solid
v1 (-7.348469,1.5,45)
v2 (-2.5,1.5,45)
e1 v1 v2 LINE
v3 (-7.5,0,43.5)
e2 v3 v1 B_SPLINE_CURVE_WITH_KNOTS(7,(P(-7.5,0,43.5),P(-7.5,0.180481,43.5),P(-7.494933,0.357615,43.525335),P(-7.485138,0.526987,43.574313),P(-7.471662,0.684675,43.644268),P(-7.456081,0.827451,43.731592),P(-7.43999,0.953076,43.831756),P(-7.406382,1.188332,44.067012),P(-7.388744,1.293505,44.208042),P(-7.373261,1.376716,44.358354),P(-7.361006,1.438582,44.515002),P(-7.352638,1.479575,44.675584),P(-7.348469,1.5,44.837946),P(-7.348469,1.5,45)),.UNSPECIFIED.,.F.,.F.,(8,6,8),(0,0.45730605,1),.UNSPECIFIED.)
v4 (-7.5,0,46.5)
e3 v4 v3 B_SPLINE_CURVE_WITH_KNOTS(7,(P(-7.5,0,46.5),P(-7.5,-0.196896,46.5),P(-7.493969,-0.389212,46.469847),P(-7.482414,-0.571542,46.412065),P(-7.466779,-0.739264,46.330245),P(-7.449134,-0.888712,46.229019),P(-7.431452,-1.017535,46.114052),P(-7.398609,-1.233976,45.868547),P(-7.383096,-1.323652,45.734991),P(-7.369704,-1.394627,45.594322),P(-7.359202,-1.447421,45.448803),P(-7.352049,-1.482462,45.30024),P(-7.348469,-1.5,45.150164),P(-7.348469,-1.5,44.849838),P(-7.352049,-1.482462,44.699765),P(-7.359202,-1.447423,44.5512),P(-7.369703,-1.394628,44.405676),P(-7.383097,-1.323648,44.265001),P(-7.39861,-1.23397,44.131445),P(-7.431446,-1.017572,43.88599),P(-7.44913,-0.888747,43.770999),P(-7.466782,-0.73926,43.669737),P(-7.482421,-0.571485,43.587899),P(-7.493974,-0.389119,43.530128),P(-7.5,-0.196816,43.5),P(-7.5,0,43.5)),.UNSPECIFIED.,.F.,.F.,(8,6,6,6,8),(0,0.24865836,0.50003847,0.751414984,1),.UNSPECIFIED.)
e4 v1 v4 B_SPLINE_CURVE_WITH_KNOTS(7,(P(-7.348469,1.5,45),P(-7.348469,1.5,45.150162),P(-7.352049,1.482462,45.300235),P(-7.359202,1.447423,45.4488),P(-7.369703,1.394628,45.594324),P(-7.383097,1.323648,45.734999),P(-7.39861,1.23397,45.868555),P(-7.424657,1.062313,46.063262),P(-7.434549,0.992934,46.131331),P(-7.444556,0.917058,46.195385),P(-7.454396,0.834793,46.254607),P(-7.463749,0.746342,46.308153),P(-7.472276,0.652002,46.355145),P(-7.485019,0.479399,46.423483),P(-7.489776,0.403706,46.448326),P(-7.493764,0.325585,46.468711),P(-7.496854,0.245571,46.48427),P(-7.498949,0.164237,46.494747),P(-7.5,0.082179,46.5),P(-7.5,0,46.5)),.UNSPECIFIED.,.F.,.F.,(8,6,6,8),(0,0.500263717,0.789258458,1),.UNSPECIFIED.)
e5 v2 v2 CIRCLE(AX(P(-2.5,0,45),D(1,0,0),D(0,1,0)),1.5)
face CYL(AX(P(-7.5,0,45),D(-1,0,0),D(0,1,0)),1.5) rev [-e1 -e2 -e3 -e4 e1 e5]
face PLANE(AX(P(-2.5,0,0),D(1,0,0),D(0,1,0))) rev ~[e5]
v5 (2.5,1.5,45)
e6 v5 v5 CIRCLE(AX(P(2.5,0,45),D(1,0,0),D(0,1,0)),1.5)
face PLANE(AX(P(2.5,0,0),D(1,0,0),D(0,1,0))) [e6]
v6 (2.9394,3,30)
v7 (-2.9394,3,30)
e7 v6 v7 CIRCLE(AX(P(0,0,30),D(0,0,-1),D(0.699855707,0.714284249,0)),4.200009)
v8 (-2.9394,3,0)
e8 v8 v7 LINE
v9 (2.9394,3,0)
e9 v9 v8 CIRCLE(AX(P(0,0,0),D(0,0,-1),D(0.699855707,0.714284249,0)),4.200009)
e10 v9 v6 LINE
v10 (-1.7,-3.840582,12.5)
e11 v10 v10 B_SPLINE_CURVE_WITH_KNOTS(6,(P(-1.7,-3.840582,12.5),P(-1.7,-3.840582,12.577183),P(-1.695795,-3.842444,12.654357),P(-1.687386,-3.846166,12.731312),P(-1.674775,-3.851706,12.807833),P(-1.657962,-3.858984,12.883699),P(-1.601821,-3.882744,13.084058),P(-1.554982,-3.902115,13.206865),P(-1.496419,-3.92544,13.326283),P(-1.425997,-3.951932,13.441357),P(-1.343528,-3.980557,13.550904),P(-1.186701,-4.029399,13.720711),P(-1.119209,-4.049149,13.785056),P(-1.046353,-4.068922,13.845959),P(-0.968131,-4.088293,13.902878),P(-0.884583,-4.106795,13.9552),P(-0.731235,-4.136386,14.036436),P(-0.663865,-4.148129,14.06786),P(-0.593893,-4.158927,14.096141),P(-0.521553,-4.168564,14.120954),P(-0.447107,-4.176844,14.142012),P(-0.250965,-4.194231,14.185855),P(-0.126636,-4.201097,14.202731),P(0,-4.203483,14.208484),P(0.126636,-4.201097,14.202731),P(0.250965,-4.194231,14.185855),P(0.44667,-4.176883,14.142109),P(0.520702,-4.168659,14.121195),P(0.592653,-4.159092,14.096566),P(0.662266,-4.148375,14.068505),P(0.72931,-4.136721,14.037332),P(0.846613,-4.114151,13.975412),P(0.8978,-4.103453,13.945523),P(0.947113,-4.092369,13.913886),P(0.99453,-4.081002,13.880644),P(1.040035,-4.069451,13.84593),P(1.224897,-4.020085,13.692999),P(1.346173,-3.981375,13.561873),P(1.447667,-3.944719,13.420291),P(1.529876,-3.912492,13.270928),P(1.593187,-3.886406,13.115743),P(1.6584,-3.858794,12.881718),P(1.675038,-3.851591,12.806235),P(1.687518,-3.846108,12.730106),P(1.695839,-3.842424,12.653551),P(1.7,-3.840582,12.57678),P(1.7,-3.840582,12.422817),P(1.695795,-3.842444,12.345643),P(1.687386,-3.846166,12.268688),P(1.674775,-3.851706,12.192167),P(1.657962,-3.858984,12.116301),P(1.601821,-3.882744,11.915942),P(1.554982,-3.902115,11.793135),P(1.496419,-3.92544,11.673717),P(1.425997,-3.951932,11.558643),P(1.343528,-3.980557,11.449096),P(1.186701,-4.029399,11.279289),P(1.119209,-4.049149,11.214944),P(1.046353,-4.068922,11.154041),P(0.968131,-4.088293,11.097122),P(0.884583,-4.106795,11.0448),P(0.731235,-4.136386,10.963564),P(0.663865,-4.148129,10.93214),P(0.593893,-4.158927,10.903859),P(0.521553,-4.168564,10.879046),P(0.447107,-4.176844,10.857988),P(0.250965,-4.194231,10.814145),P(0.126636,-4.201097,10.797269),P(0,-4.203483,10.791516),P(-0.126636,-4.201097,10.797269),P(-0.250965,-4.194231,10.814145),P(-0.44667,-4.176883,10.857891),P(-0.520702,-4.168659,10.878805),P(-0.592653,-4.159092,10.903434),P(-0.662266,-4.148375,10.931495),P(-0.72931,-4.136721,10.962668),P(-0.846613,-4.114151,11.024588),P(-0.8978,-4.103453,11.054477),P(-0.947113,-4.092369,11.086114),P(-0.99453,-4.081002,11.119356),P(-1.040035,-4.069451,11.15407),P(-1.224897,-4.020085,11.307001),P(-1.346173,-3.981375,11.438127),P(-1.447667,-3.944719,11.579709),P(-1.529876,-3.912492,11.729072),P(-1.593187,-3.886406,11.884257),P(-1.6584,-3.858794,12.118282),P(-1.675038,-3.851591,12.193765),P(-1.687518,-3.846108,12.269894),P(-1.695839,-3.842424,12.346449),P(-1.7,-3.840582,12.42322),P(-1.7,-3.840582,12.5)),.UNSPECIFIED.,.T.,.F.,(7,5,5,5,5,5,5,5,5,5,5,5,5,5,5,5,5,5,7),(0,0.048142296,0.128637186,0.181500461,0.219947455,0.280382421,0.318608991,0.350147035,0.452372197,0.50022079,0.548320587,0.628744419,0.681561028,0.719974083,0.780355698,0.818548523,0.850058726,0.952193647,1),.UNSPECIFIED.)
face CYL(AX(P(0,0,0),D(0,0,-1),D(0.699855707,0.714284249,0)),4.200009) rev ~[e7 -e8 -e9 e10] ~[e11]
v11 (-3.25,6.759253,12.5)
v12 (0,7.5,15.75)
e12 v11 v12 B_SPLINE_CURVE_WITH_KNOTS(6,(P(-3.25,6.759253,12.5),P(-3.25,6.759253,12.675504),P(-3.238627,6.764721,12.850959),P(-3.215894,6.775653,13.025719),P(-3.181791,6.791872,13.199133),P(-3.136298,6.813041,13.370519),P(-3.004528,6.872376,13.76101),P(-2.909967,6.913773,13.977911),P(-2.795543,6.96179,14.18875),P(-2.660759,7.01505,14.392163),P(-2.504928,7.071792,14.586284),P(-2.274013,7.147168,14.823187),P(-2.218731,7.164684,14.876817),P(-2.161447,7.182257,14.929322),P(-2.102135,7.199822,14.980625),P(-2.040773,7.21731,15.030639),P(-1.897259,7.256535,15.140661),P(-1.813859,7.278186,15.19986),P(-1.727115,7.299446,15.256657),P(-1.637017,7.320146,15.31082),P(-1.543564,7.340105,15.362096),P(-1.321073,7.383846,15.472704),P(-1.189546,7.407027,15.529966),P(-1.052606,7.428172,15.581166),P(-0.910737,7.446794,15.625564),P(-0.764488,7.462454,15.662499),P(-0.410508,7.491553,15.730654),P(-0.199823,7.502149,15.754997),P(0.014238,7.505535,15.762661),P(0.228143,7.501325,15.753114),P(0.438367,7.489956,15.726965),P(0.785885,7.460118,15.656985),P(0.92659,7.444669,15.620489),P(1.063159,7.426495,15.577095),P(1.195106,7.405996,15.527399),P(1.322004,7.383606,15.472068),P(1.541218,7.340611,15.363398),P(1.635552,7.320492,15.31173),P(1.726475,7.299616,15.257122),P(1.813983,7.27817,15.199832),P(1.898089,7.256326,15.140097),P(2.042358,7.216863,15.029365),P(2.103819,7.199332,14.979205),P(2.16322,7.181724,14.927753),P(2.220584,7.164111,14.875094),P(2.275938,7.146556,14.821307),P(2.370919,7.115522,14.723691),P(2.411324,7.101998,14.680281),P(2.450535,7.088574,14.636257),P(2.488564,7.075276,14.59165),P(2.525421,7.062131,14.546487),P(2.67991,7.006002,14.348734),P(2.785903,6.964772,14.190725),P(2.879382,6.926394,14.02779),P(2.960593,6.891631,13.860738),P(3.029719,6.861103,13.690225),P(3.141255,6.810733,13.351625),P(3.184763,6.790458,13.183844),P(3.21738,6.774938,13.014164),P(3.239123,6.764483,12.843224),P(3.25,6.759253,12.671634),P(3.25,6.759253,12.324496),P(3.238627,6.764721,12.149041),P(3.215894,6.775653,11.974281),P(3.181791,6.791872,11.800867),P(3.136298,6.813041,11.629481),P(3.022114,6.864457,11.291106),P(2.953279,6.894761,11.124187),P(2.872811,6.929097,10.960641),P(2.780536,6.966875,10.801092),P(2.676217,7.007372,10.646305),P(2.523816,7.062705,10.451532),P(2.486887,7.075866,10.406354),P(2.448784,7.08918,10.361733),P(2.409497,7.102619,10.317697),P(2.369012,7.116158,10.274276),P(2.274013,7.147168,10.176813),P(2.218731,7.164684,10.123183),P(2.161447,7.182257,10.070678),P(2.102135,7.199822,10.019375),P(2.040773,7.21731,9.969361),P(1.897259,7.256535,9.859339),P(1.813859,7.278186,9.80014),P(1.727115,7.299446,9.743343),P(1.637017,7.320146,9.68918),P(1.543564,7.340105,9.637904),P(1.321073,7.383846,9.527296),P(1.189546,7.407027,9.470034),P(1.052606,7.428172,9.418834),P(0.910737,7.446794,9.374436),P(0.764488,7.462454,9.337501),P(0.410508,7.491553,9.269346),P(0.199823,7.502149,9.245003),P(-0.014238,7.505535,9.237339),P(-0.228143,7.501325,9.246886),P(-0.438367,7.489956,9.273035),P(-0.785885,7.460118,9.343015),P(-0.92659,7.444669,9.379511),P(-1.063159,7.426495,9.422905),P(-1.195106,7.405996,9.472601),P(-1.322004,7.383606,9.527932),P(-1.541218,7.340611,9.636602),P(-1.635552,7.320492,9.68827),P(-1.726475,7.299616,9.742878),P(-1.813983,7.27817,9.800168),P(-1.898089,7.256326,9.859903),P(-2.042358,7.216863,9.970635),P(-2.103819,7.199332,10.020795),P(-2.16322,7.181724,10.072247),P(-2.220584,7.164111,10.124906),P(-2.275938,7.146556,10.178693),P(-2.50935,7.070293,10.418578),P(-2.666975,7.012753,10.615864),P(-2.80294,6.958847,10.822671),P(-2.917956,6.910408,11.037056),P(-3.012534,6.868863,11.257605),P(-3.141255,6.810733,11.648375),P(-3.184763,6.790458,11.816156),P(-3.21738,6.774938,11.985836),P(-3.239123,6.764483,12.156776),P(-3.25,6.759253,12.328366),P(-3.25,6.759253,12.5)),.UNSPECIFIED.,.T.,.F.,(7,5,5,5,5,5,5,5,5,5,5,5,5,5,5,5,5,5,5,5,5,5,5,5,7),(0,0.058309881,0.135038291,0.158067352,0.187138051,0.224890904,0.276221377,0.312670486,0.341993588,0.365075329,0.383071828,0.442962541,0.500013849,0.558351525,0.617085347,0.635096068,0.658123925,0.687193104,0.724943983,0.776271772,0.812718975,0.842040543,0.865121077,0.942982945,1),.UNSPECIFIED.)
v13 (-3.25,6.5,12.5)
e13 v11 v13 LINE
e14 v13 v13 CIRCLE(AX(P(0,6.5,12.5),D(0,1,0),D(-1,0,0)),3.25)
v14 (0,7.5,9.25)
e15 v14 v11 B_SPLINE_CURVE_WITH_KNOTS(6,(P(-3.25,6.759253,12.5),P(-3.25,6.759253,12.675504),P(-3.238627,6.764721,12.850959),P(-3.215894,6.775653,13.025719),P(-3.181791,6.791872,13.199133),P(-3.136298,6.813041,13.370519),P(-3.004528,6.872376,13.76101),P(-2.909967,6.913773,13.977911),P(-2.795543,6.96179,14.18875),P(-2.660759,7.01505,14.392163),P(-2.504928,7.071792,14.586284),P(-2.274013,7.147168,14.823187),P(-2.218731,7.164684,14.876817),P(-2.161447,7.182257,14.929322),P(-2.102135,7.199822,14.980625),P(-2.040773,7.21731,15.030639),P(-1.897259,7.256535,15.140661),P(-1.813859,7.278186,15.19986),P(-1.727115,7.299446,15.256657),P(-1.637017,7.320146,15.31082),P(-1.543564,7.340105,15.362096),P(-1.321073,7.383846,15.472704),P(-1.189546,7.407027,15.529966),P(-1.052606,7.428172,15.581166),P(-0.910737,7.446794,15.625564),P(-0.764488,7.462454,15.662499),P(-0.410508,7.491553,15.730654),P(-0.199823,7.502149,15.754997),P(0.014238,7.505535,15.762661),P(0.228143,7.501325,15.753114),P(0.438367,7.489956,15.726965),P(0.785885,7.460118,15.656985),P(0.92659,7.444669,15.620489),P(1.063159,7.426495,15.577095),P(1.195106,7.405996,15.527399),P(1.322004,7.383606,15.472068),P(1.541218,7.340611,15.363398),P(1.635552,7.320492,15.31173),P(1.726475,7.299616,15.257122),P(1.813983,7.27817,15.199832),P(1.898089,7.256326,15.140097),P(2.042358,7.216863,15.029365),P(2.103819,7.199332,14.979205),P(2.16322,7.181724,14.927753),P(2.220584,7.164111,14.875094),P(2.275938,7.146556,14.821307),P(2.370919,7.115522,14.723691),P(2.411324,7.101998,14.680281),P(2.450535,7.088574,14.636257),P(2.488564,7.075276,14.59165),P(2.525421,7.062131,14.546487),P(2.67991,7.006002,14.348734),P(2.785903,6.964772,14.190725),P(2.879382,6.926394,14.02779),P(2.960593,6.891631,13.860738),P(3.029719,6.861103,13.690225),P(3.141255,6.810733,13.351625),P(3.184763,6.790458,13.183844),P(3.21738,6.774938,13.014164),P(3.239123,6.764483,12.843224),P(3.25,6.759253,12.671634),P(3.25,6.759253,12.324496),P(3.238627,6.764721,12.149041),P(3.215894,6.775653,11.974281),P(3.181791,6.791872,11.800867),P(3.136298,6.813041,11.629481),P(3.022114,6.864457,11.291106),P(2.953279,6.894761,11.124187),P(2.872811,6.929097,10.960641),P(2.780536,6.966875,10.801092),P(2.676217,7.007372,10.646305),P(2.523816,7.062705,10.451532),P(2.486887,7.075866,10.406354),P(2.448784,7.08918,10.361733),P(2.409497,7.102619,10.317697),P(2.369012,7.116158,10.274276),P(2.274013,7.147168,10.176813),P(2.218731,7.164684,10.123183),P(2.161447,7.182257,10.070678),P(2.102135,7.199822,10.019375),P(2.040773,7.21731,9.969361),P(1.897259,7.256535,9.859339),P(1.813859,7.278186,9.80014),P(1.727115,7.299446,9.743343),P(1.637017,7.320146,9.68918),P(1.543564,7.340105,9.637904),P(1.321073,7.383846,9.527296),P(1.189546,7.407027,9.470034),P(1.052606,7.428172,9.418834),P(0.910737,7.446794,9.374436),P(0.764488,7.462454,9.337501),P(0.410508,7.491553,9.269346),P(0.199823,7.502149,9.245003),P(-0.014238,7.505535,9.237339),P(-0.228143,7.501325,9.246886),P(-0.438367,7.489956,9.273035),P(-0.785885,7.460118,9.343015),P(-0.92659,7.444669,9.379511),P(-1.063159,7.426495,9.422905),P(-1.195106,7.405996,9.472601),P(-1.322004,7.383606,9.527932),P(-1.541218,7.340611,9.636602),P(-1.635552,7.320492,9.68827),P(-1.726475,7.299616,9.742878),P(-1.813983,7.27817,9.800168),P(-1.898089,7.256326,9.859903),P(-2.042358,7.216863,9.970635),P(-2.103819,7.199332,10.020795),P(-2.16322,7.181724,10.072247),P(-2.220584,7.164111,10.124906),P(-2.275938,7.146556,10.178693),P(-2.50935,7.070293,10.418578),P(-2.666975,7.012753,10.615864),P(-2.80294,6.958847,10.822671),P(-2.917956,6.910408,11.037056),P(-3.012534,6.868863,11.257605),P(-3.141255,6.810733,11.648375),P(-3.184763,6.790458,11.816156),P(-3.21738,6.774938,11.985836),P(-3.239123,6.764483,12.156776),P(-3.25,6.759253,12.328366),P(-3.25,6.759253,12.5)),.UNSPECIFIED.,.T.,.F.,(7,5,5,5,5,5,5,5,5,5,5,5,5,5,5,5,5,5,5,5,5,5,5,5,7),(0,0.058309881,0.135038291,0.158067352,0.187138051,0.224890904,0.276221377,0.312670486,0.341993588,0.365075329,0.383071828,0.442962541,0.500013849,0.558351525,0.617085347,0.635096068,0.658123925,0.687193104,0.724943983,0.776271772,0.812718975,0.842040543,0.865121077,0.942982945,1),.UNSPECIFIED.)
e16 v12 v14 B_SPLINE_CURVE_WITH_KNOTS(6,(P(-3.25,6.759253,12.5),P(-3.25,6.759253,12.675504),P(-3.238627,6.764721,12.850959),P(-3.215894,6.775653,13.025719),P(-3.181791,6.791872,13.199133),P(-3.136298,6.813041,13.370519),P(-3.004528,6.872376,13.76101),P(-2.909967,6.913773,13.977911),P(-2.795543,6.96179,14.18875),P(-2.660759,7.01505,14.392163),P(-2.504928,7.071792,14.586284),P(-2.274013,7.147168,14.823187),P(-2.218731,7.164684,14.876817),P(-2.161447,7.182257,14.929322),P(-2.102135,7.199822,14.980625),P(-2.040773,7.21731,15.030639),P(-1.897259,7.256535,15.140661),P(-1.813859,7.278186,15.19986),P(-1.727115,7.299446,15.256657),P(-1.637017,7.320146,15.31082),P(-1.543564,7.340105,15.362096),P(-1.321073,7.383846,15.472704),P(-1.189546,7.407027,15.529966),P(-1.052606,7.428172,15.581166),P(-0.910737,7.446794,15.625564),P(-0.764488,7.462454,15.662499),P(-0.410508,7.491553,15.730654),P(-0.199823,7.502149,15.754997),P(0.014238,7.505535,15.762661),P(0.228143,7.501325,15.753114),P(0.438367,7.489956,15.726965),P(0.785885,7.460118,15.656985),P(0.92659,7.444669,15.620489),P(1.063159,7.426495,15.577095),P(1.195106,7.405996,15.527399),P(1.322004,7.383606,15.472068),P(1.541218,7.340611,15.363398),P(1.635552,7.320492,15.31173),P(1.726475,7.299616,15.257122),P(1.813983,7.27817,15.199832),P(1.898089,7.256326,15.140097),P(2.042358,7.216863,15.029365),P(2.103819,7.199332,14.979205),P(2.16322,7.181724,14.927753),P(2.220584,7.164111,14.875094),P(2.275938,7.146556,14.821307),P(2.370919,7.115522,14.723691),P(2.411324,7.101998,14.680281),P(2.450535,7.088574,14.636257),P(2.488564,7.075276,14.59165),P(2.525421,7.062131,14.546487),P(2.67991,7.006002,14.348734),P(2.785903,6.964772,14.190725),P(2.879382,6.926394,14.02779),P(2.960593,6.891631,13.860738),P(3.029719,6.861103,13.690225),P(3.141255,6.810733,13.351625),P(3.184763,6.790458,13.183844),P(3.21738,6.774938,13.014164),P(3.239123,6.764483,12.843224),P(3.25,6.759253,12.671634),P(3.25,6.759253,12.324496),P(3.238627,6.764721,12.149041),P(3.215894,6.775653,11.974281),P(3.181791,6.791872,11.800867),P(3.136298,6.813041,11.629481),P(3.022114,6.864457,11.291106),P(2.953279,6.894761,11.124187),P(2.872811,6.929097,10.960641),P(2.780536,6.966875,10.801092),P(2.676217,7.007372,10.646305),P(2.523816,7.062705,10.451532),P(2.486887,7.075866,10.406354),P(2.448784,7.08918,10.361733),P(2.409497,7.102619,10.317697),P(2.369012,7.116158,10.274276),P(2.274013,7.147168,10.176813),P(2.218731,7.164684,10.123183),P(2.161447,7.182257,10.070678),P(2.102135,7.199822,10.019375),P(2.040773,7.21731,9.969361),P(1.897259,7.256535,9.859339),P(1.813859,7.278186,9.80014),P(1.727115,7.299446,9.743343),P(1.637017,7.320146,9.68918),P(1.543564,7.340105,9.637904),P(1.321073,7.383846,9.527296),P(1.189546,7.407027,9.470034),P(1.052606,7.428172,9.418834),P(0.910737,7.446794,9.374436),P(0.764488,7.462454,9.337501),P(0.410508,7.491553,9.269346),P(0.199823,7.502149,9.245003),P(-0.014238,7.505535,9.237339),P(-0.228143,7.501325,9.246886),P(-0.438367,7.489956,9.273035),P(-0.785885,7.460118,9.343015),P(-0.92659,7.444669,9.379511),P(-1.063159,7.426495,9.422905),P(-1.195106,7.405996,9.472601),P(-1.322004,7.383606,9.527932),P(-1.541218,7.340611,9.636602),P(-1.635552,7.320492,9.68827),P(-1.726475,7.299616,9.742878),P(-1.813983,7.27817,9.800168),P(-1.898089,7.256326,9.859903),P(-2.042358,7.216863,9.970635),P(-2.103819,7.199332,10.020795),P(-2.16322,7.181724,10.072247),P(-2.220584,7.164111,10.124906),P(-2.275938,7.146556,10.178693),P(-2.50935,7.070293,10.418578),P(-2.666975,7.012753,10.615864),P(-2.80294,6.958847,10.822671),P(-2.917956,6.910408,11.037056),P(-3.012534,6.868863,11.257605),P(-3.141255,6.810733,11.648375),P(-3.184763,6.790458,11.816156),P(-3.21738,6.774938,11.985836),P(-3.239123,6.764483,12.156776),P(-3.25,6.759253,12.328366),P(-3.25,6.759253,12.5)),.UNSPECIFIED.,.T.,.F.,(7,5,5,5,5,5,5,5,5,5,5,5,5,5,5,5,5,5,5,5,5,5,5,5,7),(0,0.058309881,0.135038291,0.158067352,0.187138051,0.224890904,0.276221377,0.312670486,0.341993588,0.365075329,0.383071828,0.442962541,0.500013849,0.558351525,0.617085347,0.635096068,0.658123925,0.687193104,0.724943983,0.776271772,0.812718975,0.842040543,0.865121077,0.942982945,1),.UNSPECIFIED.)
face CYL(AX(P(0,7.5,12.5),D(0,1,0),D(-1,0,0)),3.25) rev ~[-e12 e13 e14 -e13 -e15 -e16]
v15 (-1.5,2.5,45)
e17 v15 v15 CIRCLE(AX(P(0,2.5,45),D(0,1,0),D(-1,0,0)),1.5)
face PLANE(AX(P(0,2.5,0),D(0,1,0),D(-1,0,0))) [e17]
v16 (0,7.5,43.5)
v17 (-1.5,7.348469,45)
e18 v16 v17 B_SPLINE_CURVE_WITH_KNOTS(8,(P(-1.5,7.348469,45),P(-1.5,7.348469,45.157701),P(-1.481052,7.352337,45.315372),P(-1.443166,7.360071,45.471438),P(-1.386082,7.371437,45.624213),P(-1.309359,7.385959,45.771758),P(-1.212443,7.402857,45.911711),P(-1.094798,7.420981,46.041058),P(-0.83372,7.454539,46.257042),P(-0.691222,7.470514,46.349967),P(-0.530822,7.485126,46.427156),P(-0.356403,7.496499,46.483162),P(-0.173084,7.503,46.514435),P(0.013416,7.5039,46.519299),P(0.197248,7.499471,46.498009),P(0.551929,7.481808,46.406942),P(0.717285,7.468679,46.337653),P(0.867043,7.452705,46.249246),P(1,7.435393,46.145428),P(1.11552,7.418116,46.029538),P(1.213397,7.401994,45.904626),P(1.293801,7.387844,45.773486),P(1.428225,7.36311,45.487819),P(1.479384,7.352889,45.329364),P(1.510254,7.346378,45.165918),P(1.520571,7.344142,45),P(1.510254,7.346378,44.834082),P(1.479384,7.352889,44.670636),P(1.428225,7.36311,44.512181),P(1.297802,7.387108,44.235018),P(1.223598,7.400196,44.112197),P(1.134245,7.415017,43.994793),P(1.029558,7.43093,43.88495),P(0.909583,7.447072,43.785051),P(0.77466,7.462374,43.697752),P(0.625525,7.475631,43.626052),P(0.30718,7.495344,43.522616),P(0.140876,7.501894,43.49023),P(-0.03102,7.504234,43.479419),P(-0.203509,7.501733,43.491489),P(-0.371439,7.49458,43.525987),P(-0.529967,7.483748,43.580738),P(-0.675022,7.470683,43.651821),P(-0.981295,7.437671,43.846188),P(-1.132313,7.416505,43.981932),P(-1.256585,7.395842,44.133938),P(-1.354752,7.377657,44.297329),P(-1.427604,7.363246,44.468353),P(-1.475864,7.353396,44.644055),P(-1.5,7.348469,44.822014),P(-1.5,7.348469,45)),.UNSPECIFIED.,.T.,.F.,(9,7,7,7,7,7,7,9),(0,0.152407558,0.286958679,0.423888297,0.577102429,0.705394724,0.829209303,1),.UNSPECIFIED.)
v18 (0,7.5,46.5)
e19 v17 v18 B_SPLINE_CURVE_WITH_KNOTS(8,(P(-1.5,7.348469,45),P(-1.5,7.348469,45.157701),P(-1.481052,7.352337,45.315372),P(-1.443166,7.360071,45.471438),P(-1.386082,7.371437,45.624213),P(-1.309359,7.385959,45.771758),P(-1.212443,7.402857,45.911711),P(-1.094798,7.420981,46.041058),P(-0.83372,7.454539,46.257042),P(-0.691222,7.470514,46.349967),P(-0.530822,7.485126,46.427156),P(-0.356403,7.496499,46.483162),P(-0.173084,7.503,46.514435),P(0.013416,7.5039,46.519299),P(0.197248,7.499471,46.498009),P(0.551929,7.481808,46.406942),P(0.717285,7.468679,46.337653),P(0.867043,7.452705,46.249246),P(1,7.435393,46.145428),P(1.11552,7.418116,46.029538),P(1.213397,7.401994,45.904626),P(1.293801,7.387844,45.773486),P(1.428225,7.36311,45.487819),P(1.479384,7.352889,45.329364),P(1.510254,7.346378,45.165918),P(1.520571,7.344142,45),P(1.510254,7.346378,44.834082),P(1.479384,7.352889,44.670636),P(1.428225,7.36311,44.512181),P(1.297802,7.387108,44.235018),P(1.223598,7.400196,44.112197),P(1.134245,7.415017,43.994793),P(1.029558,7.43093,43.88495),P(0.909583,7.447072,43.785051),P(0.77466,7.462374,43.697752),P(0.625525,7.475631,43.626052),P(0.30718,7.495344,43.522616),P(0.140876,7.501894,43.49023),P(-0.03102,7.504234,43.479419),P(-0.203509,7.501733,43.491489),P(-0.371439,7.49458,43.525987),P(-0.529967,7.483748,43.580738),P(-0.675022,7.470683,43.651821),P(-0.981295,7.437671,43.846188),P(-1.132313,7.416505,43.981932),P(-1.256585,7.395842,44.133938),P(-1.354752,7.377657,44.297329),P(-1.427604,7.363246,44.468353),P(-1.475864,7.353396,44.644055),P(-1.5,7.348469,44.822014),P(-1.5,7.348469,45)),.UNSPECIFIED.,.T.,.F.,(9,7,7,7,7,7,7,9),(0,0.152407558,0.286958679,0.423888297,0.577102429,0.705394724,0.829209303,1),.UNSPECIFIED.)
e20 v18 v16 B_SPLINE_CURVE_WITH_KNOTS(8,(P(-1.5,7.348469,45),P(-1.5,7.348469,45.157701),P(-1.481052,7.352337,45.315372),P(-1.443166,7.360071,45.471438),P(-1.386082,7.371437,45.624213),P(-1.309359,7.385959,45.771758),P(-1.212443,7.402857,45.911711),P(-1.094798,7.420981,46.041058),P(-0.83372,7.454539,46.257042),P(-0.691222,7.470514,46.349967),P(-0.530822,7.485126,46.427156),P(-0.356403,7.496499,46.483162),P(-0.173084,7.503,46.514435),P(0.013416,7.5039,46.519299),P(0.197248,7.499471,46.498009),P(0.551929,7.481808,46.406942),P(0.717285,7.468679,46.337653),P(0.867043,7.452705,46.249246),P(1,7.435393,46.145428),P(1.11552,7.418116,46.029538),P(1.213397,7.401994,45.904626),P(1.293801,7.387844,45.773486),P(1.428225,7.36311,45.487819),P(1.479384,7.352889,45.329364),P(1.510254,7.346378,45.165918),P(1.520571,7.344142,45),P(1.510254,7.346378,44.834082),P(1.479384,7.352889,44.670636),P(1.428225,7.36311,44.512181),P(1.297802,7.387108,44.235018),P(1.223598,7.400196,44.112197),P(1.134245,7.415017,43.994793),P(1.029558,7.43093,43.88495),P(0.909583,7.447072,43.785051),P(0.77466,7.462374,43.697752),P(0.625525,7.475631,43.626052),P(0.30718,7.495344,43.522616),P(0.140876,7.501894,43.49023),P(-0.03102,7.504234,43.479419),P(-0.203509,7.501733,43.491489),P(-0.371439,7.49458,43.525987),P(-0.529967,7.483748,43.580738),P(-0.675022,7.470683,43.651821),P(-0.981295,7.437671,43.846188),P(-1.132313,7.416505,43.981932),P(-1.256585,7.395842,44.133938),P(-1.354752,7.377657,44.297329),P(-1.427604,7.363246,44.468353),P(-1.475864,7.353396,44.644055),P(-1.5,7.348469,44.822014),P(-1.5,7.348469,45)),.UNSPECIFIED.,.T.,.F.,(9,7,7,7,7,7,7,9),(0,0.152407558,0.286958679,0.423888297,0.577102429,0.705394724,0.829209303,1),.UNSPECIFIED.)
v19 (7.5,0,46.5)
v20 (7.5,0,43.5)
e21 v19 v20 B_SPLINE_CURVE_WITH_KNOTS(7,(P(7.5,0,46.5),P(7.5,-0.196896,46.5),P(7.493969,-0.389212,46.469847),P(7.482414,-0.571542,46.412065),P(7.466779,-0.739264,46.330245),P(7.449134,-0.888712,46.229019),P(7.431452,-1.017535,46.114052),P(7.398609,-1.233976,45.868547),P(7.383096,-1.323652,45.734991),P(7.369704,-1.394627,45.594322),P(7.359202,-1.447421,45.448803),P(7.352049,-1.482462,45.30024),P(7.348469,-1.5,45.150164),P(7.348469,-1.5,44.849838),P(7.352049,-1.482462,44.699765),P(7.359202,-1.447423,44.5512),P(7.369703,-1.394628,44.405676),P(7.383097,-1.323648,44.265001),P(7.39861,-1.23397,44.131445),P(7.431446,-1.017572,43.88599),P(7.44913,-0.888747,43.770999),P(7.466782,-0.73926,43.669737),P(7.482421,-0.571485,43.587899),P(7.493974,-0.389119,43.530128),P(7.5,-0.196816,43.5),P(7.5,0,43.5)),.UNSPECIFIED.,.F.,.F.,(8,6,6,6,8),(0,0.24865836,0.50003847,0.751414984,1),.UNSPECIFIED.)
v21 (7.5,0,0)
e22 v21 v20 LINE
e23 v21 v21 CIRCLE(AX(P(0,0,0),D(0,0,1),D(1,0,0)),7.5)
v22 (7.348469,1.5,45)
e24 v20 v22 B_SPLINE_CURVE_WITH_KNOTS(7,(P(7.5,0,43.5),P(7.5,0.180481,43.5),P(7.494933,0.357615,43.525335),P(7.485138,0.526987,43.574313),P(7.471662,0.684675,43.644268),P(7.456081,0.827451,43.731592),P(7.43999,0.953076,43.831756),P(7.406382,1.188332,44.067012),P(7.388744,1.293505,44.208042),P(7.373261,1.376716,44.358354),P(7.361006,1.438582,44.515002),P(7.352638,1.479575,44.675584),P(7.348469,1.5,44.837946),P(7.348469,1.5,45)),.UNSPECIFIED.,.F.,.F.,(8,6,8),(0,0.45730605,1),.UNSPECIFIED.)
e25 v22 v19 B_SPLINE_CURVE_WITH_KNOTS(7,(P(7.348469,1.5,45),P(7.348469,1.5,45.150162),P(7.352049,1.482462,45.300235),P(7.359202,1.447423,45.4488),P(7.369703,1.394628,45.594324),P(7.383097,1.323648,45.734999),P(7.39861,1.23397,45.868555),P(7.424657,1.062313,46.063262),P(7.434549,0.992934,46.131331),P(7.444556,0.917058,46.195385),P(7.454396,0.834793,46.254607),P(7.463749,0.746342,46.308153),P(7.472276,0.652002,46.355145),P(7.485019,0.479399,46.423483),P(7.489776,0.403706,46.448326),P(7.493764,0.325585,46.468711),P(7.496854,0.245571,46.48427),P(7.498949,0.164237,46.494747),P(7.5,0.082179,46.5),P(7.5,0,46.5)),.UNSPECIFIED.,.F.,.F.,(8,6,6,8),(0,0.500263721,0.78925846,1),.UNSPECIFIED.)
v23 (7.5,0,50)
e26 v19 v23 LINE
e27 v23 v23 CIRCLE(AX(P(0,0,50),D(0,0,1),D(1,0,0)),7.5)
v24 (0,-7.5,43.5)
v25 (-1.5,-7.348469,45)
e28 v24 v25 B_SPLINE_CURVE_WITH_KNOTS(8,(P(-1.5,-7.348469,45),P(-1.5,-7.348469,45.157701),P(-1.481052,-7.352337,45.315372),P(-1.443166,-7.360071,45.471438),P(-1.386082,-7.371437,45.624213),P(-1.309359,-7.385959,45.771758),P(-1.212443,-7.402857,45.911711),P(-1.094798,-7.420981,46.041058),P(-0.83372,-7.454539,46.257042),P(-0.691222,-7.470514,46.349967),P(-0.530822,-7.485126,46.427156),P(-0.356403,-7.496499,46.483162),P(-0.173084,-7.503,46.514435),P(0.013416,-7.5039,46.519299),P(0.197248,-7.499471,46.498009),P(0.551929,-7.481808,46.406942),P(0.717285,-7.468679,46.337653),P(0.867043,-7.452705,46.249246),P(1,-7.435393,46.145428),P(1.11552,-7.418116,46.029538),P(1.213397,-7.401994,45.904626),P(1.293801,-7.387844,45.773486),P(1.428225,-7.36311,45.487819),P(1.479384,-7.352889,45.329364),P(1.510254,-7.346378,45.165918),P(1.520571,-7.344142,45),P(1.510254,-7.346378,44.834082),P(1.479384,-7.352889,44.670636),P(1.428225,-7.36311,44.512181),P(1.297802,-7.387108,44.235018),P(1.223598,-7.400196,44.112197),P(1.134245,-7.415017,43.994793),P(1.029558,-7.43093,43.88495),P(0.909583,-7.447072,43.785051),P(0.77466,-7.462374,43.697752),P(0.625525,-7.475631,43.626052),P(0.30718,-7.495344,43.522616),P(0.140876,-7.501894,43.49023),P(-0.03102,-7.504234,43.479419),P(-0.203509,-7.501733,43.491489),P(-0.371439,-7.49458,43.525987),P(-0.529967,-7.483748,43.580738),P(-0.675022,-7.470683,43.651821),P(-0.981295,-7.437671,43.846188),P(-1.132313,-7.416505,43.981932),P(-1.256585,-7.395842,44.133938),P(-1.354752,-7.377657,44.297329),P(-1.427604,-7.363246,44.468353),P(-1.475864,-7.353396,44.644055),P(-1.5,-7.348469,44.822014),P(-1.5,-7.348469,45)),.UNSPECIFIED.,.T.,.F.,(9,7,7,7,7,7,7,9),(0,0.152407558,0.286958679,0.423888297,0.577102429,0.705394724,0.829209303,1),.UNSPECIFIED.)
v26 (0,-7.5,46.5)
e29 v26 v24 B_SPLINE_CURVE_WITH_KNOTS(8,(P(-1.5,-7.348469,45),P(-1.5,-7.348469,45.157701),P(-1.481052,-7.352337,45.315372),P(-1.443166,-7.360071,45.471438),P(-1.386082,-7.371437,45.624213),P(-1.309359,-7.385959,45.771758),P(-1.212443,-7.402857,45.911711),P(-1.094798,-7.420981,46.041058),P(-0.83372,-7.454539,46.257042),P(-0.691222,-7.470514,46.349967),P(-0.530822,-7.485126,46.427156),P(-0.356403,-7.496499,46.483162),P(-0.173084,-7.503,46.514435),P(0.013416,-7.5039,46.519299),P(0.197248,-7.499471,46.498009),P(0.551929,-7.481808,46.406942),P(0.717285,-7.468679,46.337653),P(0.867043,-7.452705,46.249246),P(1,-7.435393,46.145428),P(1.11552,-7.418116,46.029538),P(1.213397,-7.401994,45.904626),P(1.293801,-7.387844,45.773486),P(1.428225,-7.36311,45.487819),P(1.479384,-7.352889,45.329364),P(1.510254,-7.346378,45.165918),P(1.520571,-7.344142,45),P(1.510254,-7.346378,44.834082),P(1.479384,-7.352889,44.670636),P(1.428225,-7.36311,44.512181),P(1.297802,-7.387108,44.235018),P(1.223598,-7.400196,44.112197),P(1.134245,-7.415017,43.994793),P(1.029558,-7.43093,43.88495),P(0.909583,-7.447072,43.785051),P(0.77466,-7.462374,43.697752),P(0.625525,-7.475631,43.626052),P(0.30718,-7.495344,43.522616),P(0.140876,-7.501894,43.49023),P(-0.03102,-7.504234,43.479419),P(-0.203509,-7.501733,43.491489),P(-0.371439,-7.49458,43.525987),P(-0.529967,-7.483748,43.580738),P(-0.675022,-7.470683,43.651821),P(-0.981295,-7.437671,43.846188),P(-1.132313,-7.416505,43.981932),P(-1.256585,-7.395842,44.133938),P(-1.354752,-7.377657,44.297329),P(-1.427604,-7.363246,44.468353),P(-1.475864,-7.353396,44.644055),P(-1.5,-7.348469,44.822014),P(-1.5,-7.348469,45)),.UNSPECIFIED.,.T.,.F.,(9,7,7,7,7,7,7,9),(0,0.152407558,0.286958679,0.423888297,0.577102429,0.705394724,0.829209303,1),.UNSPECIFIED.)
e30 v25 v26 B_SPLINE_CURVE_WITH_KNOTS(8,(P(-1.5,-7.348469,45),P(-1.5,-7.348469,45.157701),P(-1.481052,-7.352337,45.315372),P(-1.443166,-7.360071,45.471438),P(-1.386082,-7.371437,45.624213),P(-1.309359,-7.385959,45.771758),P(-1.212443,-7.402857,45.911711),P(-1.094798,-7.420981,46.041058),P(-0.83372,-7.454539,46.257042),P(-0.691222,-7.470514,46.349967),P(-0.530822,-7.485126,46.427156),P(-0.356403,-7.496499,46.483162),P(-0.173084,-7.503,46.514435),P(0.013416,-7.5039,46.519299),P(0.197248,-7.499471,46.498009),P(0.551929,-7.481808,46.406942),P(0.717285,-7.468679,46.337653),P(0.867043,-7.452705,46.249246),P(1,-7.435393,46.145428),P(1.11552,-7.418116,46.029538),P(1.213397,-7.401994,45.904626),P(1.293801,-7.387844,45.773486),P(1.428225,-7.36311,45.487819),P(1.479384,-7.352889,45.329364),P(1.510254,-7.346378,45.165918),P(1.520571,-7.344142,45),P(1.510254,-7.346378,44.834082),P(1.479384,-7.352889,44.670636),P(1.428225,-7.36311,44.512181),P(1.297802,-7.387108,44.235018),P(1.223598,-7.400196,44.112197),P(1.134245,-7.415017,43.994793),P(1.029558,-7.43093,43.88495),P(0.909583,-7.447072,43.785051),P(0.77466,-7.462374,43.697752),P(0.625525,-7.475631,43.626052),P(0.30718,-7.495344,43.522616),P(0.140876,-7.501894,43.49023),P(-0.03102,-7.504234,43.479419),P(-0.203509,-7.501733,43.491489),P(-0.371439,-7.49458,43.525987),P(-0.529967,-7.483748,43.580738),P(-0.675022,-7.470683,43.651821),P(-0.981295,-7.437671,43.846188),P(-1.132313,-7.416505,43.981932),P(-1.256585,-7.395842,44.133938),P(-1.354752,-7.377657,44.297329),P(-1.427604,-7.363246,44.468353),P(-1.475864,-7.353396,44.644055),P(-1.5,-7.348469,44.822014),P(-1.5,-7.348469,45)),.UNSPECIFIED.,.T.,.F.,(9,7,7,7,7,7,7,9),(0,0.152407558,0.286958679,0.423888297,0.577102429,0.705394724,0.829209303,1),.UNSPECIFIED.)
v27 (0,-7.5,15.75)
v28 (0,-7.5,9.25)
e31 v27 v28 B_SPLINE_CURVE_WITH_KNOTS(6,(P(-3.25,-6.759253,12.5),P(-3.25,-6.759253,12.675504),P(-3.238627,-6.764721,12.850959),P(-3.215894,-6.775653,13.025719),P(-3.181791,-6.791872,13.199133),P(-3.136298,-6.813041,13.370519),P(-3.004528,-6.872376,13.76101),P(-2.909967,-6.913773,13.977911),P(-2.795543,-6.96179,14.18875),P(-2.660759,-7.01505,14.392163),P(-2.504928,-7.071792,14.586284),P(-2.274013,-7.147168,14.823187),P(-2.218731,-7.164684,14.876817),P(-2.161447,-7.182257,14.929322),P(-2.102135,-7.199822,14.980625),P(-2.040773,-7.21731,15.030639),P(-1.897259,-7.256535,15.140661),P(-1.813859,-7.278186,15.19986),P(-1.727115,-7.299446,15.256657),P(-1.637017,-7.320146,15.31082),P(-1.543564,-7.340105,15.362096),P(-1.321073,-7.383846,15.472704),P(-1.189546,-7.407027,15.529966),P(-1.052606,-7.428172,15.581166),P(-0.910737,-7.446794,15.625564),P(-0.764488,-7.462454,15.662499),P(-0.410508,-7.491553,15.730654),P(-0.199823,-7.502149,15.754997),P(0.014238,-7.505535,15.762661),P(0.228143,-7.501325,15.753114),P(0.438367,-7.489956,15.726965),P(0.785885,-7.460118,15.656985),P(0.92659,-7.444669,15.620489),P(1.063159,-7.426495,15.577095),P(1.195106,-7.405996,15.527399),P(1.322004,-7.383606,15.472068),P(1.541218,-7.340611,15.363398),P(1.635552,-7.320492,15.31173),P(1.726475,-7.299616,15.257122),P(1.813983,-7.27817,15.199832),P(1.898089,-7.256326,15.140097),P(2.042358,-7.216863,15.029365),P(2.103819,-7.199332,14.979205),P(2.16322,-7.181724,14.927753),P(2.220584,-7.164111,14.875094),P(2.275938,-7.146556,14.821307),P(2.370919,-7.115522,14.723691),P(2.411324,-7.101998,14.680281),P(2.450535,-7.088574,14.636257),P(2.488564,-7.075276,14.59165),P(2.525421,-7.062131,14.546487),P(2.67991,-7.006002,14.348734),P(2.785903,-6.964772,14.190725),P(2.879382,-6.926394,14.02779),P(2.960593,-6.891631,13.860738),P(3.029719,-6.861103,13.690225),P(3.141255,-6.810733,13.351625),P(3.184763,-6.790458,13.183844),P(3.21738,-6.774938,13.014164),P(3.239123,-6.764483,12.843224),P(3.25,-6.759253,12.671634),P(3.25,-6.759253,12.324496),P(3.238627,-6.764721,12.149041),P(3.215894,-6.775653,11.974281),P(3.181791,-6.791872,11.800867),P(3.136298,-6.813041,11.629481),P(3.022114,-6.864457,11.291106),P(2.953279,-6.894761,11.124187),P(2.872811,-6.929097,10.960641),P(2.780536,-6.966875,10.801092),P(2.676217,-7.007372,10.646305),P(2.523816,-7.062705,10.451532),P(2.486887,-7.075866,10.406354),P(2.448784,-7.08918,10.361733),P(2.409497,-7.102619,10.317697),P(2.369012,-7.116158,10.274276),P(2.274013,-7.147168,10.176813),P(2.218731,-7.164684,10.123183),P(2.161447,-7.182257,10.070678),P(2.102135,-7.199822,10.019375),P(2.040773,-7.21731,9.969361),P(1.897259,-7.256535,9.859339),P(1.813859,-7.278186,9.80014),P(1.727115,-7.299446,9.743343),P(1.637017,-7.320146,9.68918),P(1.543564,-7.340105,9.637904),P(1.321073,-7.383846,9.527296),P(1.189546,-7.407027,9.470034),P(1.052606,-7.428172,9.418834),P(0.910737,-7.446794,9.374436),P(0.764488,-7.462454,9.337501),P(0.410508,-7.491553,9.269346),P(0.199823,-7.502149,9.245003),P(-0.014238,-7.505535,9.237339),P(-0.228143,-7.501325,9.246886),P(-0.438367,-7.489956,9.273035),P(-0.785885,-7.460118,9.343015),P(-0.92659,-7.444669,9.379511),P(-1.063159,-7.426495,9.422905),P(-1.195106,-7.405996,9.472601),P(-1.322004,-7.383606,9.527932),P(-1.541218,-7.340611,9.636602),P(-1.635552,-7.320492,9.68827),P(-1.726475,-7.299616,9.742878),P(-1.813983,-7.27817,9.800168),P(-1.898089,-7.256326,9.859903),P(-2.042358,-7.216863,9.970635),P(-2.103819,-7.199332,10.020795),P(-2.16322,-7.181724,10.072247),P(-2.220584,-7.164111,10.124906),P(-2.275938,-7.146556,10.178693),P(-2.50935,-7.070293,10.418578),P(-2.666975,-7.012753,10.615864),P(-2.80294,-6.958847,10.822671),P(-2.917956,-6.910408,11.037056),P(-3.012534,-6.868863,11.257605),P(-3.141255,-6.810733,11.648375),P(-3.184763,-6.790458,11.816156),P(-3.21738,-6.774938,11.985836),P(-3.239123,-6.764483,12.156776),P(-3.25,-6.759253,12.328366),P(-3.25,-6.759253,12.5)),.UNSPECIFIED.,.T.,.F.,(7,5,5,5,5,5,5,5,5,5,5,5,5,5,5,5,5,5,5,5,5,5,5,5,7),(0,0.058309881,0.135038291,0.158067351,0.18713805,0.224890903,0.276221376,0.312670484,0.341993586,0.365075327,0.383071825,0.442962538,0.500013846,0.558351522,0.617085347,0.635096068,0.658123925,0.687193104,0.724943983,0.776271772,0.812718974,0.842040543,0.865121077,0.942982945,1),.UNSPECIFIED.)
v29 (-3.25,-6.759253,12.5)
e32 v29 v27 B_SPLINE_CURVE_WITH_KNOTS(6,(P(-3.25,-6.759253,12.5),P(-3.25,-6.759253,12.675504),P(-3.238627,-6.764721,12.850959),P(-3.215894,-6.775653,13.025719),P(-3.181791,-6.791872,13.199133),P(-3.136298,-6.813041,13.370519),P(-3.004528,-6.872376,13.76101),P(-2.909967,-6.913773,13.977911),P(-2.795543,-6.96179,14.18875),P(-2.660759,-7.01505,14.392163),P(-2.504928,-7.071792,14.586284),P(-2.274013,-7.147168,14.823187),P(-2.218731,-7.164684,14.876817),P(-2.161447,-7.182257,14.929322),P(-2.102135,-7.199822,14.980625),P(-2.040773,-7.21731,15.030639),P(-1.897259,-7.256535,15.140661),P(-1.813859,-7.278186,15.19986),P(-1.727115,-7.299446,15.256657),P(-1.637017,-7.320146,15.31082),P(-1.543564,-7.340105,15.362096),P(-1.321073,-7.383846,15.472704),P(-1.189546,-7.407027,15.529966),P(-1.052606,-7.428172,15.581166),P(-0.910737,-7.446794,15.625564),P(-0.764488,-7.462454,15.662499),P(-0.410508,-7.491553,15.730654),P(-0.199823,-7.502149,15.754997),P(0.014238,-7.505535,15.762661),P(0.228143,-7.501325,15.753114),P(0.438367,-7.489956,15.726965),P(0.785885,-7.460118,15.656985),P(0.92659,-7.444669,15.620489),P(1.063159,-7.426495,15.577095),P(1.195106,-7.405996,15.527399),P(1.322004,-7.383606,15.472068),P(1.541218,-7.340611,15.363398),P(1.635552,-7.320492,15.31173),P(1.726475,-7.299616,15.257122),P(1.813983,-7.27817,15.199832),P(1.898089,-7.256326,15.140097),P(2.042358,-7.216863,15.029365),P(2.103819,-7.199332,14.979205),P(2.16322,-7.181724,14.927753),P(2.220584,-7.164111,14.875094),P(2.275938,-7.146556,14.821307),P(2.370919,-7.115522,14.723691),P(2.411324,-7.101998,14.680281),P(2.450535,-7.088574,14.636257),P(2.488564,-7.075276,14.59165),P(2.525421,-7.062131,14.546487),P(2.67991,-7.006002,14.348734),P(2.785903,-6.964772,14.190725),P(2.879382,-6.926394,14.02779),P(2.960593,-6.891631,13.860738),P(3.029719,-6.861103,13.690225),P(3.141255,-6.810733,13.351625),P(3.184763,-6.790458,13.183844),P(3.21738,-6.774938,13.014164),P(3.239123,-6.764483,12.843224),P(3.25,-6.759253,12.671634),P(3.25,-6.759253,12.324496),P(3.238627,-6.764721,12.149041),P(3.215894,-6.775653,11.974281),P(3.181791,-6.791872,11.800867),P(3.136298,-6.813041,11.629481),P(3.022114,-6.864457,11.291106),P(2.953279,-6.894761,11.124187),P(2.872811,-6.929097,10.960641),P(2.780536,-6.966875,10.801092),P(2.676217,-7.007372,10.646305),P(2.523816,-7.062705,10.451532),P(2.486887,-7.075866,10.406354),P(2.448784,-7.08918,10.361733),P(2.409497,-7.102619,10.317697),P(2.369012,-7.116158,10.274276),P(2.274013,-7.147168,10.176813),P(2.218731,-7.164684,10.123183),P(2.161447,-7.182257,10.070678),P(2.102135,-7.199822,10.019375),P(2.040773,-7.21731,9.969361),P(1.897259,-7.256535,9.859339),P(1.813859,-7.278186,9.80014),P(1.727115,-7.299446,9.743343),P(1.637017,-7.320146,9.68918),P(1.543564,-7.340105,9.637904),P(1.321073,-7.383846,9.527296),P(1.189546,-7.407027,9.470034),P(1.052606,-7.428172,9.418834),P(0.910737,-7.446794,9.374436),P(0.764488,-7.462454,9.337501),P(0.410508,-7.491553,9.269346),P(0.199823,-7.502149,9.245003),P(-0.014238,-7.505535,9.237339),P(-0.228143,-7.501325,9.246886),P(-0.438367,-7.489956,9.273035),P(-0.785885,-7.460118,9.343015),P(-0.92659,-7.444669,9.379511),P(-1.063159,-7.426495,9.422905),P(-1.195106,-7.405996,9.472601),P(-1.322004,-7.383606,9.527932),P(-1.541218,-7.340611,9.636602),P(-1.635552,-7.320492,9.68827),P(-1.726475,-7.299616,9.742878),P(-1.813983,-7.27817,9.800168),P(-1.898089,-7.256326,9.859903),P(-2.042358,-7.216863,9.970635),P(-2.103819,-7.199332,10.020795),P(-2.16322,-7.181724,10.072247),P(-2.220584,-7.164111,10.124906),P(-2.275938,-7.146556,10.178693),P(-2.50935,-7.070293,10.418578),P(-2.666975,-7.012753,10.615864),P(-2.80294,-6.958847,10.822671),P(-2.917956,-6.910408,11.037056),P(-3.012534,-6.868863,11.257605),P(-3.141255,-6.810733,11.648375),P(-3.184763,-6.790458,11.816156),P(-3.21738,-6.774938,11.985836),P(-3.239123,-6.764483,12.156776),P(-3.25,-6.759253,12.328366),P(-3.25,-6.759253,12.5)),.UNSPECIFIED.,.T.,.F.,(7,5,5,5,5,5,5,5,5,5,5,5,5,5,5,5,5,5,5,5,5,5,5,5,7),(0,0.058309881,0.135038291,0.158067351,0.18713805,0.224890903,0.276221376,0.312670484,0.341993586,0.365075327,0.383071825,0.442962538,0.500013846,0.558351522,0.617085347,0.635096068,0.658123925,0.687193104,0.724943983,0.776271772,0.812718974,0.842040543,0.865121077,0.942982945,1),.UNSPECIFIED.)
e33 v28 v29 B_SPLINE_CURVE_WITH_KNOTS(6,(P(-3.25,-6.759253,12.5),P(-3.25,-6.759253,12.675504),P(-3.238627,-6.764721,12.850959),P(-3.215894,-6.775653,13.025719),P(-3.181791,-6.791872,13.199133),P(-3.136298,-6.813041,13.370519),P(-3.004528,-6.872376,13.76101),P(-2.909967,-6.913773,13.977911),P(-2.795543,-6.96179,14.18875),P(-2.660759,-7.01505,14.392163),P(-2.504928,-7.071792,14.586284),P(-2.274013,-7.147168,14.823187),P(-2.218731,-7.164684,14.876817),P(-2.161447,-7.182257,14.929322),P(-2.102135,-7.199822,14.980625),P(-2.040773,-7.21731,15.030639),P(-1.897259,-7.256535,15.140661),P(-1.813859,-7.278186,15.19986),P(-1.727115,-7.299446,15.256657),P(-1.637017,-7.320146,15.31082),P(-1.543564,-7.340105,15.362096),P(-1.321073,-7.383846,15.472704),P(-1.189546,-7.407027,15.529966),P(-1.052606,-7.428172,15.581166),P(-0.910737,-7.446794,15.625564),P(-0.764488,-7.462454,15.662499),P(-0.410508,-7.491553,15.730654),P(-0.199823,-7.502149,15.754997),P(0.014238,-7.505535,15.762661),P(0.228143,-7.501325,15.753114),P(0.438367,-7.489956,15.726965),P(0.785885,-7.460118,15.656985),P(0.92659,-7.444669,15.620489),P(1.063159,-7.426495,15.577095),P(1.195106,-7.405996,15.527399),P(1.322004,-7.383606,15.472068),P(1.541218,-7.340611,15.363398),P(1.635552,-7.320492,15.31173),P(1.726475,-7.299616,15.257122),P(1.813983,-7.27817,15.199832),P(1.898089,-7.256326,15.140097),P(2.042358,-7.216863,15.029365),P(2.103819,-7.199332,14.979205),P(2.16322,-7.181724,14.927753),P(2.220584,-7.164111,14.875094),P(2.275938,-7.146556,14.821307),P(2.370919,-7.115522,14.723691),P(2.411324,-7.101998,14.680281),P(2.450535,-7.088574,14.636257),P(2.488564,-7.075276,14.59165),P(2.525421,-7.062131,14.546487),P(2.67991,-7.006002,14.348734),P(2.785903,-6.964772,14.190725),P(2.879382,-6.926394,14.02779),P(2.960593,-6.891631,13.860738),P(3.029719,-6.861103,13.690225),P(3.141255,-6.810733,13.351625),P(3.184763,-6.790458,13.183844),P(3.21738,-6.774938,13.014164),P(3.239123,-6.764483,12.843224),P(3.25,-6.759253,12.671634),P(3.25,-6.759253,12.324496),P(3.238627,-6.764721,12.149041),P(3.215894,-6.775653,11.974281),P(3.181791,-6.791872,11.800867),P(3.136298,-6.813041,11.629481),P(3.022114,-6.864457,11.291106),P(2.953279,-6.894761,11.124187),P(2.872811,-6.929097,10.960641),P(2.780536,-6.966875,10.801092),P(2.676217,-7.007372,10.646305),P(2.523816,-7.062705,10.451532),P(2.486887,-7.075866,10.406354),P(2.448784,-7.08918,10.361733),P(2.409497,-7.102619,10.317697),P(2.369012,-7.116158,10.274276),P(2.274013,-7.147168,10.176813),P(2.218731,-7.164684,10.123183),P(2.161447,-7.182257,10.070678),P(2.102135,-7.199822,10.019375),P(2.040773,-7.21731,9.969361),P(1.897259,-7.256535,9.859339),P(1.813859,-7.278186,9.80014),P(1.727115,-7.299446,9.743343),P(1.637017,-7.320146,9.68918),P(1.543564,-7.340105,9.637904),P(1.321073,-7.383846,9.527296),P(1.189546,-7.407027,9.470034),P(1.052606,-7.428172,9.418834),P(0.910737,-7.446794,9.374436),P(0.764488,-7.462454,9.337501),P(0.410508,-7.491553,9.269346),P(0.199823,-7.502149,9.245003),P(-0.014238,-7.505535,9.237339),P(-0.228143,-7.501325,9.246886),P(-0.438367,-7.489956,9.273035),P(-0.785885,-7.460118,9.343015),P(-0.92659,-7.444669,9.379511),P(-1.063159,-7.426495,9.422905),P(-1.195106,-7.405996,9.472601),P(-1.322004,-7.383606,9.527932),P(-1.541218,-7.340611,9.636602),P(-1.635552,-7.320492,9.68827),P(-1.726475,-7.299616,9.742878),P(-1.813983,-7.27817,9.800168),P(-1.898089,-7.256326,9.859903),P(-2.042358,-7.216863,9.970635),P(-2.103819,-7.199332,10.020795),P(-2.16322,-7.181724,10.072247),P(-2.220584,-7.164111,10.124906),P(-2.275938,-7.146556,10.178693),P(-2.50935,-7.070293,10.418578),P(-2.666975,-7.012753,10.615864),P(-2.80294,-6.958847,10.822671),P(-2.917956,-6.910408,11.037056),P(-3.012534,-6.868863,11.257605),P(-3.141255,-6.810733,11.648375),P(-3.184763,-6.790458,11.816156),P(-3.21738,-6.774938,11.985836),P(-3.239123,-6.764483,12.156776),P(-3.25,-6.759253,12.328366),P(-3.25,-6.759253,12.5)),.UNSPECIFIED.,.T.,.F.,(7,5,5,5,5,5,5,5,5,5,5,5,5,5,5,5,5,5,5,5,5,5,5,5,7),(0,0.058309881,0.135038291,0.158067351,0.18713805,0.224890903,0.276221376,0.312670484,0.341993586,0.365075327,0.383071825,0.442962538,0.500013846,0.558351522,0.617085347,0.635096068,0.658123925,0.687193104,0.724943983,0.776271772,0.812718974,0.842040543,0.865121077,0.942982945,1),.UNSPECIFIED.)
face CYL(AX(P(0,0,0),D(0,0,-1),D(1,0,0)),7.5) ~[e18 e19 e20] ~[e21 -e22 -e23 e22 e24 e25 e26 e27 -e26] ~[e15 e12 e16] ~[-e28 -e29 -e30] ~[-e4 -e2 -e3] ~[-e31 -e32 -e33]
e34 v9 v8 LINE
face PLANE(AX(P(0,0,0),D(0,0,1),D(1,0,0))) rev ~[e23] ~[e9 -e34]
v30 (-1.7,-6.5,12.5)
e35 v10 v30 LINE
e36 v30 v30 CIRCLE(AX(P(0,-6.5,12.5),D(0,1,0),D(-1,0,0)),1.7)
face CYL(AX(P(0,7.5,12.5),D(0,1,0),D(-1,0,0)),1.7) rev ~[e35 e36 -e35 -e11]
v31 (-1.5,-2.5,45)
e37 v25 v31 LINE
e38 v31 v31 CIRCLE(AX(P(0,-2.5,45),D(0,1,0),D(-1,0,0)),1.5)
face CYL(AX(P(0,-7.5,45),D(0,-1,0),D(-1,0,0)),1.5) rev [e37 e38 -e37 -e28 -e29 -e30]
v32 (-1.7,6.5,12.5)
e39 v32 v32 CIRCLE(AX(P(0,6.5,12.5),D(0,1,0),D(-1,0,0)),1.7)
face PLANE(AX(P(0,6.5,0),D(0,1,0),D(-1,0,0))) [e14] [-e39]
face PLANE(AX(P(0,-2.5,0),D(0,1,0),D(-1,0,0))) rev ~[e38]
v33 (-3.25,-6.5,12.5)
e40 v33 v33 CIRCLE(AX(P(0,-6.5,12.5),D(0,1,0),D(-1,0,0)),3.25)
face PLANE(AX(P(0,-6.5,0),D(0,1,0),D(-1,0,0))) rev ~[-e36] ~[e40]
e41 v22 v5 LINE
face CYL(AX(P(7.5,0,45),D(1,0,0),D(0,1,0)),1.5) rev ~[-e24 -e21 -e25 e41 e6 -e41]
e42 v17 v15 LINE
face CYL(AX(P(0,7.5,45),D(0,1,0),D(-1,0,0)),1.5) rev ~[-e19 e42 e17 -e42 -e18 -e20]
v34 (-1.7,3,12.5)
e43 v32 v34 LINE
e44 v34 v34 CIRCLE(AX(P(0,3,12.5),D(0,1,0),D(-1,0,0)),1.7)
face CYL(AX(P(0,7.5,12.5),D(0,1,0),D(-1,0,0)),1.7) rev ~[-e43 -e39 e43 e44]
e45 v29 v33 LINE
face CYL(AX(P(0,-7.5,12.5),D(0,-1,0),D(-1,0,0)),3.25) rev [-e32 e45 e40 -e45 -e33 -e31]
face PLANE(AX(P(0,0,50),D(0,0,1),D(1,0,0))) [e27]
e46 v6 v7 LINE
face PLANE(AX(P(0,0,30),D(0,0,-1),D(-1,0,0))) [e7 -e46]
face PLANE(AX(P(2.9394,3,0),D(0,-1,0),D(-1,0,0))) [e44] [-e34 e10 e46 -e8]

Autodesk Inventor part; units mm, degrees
sketch "スケッチ1" plane through (0, 0, 0) normal (0, 0, 1) x (1, 0, 0)
  circle A0 centre (0, 0) radius 7.5
  dimension "d0" = 15
extrude "押し出し1" add sketch "スケッチ1" along normal blind 50
sketch "スケッチ2" plane through (0, 0, 0) normal (0, 0, -1) x (-1, 0, 0)
  arc A0 (-2.9394, 3) -> (2.9394, 3) centre (0, 0) ccw
  line L0 (-2.9394, 3) -> (2.9394, 3)
  point P0 (-3.1305, 2.8)
  dimension "d3" = 4.2
  dimension "d4" = 3
extrude "押し出し2" cut sketch "スケッチ2" against normal blind 30
ref_plane "作業平面1" through (7.5, 0, 0) normal (1, 0, 0) x (0, 1, 0)
ref_plane "作業平面2" through (-7.5, 0, 0) normal (1, 0, 0) x (0, 1, 0)
ref_plane "作業平面3" through (0, 7.5, 0) normal (0, 1, 0) x (-1, 0, 0)
ref_plane "作業平面4" through (0, -7.5, 0) normal (0, 1, 0) x (-1, 0, 0)
sketch "スケッチ3" plane through (7.5, 0, 0) normal (1, 0, 0) x (0, 1, 0)
  circle A0 centre (0, 45) radius 1.5
  line L0 (7.5, 50) -> (-7.5, 50) projected
  point P0 (0, 0)
  dimension "d11" = 3
  dimension "d12" = 5
sketch "スケッチ4" plane through (-7.5, 0, 0) normal (1, 0, 0) x (0, 1, 0)
  circle A0 centre (0, 45) radius 1.5
  line L0 (7.5, 50) -> (-7.5, 50) projected
  point P0 (0, 0)
  dimension "d13" = 3
  dimension "d14" = 5
extrude "押し出し3" cut sketch "スケッチ3" against normal blind 5
extrude "押し出し4" cut sketch "スケッチ4" along normal blind 5
sketch "スケッチ5" plane through (0, 7.5, 0) normal (0, 1, 0) x (-1, 0, 0)
  circle A0 centre (0, 45) radius 1.5
  line L0 (7.5, 50) -> (-7.5, 50) projected
  point P0 (0, 0)
  dimension "d19" = 3
  dimension "d20" = 5
sketch "スケッチ6" plane through (0, -7.5, 0) normal (0, 1, 0) x (-1, 0, 0)
  circle A0 centre (0, 45) radius 1.5
  line L0 (7.5, 50) -> (-7.5, 50) projected
  point P0 (0, 0)
  dimension "d21" = 3
  dimension "d22" = 5
extrude "押し出し5" cut sketch "スケッチ5" against normal blind 5
extrude "押し出し6" cut sketch "スケッチ6" along normal blind 5
thread "ねじ1" size "M3x0.5" class "6H" standard "ANSI Metric M Profile" full length
thread "ねじ2" size "M3x0.5" class "6H" standard "ANSI Metric M Profile" full length
thread "ねじ3" size "M3x0.5" class "6H" standard "ANSI Metric M Profile" full length
thread "ねじ4" size "M3x0.5" class "6H" standard "ANSI Metric M Profile" full length
sketch "スケッチ7" plane through (0, 7.5, 0) normal (0, 1, 0) x (-1, 0, 0)
  circle A0 centre (0, 12.5) radius 1.7
  point P0 (0, 0)
  dimension "d35" = 3.4
  dimension "d36" = 12.5
extrude "押し出し7" cut sketch "スケッチ7" against normal through all
sketch "スケッチ8" plane through (0, 7.5, 0) normal (0, 1, 0) x (-1, 0, 0)
  circle A0 centre (0, 12.5) radius 3.25
  point P0 (0, 0)
  dimension "d39" = 6.5
  dimension "d40" = 12.5
sketch "スケッチ9" plane through (0, -7.5, 0) normal (0, 1, 0) x (-1, 0, 0)
  circle A0 centre (0, 12.5) radius 3.25
  point P0 (0, 0)
  dimension "d41" = 6.5
  dimension "d42" = 12.5
extrude "押し出し8" cut sketch "スケッチ8" against normal blind 1
extrude "押し出し9" cut sketch "スケッチ9" along normal blind 1
properties part number "rotary_transfer_shaft_5" material "ステンレス鋼"
